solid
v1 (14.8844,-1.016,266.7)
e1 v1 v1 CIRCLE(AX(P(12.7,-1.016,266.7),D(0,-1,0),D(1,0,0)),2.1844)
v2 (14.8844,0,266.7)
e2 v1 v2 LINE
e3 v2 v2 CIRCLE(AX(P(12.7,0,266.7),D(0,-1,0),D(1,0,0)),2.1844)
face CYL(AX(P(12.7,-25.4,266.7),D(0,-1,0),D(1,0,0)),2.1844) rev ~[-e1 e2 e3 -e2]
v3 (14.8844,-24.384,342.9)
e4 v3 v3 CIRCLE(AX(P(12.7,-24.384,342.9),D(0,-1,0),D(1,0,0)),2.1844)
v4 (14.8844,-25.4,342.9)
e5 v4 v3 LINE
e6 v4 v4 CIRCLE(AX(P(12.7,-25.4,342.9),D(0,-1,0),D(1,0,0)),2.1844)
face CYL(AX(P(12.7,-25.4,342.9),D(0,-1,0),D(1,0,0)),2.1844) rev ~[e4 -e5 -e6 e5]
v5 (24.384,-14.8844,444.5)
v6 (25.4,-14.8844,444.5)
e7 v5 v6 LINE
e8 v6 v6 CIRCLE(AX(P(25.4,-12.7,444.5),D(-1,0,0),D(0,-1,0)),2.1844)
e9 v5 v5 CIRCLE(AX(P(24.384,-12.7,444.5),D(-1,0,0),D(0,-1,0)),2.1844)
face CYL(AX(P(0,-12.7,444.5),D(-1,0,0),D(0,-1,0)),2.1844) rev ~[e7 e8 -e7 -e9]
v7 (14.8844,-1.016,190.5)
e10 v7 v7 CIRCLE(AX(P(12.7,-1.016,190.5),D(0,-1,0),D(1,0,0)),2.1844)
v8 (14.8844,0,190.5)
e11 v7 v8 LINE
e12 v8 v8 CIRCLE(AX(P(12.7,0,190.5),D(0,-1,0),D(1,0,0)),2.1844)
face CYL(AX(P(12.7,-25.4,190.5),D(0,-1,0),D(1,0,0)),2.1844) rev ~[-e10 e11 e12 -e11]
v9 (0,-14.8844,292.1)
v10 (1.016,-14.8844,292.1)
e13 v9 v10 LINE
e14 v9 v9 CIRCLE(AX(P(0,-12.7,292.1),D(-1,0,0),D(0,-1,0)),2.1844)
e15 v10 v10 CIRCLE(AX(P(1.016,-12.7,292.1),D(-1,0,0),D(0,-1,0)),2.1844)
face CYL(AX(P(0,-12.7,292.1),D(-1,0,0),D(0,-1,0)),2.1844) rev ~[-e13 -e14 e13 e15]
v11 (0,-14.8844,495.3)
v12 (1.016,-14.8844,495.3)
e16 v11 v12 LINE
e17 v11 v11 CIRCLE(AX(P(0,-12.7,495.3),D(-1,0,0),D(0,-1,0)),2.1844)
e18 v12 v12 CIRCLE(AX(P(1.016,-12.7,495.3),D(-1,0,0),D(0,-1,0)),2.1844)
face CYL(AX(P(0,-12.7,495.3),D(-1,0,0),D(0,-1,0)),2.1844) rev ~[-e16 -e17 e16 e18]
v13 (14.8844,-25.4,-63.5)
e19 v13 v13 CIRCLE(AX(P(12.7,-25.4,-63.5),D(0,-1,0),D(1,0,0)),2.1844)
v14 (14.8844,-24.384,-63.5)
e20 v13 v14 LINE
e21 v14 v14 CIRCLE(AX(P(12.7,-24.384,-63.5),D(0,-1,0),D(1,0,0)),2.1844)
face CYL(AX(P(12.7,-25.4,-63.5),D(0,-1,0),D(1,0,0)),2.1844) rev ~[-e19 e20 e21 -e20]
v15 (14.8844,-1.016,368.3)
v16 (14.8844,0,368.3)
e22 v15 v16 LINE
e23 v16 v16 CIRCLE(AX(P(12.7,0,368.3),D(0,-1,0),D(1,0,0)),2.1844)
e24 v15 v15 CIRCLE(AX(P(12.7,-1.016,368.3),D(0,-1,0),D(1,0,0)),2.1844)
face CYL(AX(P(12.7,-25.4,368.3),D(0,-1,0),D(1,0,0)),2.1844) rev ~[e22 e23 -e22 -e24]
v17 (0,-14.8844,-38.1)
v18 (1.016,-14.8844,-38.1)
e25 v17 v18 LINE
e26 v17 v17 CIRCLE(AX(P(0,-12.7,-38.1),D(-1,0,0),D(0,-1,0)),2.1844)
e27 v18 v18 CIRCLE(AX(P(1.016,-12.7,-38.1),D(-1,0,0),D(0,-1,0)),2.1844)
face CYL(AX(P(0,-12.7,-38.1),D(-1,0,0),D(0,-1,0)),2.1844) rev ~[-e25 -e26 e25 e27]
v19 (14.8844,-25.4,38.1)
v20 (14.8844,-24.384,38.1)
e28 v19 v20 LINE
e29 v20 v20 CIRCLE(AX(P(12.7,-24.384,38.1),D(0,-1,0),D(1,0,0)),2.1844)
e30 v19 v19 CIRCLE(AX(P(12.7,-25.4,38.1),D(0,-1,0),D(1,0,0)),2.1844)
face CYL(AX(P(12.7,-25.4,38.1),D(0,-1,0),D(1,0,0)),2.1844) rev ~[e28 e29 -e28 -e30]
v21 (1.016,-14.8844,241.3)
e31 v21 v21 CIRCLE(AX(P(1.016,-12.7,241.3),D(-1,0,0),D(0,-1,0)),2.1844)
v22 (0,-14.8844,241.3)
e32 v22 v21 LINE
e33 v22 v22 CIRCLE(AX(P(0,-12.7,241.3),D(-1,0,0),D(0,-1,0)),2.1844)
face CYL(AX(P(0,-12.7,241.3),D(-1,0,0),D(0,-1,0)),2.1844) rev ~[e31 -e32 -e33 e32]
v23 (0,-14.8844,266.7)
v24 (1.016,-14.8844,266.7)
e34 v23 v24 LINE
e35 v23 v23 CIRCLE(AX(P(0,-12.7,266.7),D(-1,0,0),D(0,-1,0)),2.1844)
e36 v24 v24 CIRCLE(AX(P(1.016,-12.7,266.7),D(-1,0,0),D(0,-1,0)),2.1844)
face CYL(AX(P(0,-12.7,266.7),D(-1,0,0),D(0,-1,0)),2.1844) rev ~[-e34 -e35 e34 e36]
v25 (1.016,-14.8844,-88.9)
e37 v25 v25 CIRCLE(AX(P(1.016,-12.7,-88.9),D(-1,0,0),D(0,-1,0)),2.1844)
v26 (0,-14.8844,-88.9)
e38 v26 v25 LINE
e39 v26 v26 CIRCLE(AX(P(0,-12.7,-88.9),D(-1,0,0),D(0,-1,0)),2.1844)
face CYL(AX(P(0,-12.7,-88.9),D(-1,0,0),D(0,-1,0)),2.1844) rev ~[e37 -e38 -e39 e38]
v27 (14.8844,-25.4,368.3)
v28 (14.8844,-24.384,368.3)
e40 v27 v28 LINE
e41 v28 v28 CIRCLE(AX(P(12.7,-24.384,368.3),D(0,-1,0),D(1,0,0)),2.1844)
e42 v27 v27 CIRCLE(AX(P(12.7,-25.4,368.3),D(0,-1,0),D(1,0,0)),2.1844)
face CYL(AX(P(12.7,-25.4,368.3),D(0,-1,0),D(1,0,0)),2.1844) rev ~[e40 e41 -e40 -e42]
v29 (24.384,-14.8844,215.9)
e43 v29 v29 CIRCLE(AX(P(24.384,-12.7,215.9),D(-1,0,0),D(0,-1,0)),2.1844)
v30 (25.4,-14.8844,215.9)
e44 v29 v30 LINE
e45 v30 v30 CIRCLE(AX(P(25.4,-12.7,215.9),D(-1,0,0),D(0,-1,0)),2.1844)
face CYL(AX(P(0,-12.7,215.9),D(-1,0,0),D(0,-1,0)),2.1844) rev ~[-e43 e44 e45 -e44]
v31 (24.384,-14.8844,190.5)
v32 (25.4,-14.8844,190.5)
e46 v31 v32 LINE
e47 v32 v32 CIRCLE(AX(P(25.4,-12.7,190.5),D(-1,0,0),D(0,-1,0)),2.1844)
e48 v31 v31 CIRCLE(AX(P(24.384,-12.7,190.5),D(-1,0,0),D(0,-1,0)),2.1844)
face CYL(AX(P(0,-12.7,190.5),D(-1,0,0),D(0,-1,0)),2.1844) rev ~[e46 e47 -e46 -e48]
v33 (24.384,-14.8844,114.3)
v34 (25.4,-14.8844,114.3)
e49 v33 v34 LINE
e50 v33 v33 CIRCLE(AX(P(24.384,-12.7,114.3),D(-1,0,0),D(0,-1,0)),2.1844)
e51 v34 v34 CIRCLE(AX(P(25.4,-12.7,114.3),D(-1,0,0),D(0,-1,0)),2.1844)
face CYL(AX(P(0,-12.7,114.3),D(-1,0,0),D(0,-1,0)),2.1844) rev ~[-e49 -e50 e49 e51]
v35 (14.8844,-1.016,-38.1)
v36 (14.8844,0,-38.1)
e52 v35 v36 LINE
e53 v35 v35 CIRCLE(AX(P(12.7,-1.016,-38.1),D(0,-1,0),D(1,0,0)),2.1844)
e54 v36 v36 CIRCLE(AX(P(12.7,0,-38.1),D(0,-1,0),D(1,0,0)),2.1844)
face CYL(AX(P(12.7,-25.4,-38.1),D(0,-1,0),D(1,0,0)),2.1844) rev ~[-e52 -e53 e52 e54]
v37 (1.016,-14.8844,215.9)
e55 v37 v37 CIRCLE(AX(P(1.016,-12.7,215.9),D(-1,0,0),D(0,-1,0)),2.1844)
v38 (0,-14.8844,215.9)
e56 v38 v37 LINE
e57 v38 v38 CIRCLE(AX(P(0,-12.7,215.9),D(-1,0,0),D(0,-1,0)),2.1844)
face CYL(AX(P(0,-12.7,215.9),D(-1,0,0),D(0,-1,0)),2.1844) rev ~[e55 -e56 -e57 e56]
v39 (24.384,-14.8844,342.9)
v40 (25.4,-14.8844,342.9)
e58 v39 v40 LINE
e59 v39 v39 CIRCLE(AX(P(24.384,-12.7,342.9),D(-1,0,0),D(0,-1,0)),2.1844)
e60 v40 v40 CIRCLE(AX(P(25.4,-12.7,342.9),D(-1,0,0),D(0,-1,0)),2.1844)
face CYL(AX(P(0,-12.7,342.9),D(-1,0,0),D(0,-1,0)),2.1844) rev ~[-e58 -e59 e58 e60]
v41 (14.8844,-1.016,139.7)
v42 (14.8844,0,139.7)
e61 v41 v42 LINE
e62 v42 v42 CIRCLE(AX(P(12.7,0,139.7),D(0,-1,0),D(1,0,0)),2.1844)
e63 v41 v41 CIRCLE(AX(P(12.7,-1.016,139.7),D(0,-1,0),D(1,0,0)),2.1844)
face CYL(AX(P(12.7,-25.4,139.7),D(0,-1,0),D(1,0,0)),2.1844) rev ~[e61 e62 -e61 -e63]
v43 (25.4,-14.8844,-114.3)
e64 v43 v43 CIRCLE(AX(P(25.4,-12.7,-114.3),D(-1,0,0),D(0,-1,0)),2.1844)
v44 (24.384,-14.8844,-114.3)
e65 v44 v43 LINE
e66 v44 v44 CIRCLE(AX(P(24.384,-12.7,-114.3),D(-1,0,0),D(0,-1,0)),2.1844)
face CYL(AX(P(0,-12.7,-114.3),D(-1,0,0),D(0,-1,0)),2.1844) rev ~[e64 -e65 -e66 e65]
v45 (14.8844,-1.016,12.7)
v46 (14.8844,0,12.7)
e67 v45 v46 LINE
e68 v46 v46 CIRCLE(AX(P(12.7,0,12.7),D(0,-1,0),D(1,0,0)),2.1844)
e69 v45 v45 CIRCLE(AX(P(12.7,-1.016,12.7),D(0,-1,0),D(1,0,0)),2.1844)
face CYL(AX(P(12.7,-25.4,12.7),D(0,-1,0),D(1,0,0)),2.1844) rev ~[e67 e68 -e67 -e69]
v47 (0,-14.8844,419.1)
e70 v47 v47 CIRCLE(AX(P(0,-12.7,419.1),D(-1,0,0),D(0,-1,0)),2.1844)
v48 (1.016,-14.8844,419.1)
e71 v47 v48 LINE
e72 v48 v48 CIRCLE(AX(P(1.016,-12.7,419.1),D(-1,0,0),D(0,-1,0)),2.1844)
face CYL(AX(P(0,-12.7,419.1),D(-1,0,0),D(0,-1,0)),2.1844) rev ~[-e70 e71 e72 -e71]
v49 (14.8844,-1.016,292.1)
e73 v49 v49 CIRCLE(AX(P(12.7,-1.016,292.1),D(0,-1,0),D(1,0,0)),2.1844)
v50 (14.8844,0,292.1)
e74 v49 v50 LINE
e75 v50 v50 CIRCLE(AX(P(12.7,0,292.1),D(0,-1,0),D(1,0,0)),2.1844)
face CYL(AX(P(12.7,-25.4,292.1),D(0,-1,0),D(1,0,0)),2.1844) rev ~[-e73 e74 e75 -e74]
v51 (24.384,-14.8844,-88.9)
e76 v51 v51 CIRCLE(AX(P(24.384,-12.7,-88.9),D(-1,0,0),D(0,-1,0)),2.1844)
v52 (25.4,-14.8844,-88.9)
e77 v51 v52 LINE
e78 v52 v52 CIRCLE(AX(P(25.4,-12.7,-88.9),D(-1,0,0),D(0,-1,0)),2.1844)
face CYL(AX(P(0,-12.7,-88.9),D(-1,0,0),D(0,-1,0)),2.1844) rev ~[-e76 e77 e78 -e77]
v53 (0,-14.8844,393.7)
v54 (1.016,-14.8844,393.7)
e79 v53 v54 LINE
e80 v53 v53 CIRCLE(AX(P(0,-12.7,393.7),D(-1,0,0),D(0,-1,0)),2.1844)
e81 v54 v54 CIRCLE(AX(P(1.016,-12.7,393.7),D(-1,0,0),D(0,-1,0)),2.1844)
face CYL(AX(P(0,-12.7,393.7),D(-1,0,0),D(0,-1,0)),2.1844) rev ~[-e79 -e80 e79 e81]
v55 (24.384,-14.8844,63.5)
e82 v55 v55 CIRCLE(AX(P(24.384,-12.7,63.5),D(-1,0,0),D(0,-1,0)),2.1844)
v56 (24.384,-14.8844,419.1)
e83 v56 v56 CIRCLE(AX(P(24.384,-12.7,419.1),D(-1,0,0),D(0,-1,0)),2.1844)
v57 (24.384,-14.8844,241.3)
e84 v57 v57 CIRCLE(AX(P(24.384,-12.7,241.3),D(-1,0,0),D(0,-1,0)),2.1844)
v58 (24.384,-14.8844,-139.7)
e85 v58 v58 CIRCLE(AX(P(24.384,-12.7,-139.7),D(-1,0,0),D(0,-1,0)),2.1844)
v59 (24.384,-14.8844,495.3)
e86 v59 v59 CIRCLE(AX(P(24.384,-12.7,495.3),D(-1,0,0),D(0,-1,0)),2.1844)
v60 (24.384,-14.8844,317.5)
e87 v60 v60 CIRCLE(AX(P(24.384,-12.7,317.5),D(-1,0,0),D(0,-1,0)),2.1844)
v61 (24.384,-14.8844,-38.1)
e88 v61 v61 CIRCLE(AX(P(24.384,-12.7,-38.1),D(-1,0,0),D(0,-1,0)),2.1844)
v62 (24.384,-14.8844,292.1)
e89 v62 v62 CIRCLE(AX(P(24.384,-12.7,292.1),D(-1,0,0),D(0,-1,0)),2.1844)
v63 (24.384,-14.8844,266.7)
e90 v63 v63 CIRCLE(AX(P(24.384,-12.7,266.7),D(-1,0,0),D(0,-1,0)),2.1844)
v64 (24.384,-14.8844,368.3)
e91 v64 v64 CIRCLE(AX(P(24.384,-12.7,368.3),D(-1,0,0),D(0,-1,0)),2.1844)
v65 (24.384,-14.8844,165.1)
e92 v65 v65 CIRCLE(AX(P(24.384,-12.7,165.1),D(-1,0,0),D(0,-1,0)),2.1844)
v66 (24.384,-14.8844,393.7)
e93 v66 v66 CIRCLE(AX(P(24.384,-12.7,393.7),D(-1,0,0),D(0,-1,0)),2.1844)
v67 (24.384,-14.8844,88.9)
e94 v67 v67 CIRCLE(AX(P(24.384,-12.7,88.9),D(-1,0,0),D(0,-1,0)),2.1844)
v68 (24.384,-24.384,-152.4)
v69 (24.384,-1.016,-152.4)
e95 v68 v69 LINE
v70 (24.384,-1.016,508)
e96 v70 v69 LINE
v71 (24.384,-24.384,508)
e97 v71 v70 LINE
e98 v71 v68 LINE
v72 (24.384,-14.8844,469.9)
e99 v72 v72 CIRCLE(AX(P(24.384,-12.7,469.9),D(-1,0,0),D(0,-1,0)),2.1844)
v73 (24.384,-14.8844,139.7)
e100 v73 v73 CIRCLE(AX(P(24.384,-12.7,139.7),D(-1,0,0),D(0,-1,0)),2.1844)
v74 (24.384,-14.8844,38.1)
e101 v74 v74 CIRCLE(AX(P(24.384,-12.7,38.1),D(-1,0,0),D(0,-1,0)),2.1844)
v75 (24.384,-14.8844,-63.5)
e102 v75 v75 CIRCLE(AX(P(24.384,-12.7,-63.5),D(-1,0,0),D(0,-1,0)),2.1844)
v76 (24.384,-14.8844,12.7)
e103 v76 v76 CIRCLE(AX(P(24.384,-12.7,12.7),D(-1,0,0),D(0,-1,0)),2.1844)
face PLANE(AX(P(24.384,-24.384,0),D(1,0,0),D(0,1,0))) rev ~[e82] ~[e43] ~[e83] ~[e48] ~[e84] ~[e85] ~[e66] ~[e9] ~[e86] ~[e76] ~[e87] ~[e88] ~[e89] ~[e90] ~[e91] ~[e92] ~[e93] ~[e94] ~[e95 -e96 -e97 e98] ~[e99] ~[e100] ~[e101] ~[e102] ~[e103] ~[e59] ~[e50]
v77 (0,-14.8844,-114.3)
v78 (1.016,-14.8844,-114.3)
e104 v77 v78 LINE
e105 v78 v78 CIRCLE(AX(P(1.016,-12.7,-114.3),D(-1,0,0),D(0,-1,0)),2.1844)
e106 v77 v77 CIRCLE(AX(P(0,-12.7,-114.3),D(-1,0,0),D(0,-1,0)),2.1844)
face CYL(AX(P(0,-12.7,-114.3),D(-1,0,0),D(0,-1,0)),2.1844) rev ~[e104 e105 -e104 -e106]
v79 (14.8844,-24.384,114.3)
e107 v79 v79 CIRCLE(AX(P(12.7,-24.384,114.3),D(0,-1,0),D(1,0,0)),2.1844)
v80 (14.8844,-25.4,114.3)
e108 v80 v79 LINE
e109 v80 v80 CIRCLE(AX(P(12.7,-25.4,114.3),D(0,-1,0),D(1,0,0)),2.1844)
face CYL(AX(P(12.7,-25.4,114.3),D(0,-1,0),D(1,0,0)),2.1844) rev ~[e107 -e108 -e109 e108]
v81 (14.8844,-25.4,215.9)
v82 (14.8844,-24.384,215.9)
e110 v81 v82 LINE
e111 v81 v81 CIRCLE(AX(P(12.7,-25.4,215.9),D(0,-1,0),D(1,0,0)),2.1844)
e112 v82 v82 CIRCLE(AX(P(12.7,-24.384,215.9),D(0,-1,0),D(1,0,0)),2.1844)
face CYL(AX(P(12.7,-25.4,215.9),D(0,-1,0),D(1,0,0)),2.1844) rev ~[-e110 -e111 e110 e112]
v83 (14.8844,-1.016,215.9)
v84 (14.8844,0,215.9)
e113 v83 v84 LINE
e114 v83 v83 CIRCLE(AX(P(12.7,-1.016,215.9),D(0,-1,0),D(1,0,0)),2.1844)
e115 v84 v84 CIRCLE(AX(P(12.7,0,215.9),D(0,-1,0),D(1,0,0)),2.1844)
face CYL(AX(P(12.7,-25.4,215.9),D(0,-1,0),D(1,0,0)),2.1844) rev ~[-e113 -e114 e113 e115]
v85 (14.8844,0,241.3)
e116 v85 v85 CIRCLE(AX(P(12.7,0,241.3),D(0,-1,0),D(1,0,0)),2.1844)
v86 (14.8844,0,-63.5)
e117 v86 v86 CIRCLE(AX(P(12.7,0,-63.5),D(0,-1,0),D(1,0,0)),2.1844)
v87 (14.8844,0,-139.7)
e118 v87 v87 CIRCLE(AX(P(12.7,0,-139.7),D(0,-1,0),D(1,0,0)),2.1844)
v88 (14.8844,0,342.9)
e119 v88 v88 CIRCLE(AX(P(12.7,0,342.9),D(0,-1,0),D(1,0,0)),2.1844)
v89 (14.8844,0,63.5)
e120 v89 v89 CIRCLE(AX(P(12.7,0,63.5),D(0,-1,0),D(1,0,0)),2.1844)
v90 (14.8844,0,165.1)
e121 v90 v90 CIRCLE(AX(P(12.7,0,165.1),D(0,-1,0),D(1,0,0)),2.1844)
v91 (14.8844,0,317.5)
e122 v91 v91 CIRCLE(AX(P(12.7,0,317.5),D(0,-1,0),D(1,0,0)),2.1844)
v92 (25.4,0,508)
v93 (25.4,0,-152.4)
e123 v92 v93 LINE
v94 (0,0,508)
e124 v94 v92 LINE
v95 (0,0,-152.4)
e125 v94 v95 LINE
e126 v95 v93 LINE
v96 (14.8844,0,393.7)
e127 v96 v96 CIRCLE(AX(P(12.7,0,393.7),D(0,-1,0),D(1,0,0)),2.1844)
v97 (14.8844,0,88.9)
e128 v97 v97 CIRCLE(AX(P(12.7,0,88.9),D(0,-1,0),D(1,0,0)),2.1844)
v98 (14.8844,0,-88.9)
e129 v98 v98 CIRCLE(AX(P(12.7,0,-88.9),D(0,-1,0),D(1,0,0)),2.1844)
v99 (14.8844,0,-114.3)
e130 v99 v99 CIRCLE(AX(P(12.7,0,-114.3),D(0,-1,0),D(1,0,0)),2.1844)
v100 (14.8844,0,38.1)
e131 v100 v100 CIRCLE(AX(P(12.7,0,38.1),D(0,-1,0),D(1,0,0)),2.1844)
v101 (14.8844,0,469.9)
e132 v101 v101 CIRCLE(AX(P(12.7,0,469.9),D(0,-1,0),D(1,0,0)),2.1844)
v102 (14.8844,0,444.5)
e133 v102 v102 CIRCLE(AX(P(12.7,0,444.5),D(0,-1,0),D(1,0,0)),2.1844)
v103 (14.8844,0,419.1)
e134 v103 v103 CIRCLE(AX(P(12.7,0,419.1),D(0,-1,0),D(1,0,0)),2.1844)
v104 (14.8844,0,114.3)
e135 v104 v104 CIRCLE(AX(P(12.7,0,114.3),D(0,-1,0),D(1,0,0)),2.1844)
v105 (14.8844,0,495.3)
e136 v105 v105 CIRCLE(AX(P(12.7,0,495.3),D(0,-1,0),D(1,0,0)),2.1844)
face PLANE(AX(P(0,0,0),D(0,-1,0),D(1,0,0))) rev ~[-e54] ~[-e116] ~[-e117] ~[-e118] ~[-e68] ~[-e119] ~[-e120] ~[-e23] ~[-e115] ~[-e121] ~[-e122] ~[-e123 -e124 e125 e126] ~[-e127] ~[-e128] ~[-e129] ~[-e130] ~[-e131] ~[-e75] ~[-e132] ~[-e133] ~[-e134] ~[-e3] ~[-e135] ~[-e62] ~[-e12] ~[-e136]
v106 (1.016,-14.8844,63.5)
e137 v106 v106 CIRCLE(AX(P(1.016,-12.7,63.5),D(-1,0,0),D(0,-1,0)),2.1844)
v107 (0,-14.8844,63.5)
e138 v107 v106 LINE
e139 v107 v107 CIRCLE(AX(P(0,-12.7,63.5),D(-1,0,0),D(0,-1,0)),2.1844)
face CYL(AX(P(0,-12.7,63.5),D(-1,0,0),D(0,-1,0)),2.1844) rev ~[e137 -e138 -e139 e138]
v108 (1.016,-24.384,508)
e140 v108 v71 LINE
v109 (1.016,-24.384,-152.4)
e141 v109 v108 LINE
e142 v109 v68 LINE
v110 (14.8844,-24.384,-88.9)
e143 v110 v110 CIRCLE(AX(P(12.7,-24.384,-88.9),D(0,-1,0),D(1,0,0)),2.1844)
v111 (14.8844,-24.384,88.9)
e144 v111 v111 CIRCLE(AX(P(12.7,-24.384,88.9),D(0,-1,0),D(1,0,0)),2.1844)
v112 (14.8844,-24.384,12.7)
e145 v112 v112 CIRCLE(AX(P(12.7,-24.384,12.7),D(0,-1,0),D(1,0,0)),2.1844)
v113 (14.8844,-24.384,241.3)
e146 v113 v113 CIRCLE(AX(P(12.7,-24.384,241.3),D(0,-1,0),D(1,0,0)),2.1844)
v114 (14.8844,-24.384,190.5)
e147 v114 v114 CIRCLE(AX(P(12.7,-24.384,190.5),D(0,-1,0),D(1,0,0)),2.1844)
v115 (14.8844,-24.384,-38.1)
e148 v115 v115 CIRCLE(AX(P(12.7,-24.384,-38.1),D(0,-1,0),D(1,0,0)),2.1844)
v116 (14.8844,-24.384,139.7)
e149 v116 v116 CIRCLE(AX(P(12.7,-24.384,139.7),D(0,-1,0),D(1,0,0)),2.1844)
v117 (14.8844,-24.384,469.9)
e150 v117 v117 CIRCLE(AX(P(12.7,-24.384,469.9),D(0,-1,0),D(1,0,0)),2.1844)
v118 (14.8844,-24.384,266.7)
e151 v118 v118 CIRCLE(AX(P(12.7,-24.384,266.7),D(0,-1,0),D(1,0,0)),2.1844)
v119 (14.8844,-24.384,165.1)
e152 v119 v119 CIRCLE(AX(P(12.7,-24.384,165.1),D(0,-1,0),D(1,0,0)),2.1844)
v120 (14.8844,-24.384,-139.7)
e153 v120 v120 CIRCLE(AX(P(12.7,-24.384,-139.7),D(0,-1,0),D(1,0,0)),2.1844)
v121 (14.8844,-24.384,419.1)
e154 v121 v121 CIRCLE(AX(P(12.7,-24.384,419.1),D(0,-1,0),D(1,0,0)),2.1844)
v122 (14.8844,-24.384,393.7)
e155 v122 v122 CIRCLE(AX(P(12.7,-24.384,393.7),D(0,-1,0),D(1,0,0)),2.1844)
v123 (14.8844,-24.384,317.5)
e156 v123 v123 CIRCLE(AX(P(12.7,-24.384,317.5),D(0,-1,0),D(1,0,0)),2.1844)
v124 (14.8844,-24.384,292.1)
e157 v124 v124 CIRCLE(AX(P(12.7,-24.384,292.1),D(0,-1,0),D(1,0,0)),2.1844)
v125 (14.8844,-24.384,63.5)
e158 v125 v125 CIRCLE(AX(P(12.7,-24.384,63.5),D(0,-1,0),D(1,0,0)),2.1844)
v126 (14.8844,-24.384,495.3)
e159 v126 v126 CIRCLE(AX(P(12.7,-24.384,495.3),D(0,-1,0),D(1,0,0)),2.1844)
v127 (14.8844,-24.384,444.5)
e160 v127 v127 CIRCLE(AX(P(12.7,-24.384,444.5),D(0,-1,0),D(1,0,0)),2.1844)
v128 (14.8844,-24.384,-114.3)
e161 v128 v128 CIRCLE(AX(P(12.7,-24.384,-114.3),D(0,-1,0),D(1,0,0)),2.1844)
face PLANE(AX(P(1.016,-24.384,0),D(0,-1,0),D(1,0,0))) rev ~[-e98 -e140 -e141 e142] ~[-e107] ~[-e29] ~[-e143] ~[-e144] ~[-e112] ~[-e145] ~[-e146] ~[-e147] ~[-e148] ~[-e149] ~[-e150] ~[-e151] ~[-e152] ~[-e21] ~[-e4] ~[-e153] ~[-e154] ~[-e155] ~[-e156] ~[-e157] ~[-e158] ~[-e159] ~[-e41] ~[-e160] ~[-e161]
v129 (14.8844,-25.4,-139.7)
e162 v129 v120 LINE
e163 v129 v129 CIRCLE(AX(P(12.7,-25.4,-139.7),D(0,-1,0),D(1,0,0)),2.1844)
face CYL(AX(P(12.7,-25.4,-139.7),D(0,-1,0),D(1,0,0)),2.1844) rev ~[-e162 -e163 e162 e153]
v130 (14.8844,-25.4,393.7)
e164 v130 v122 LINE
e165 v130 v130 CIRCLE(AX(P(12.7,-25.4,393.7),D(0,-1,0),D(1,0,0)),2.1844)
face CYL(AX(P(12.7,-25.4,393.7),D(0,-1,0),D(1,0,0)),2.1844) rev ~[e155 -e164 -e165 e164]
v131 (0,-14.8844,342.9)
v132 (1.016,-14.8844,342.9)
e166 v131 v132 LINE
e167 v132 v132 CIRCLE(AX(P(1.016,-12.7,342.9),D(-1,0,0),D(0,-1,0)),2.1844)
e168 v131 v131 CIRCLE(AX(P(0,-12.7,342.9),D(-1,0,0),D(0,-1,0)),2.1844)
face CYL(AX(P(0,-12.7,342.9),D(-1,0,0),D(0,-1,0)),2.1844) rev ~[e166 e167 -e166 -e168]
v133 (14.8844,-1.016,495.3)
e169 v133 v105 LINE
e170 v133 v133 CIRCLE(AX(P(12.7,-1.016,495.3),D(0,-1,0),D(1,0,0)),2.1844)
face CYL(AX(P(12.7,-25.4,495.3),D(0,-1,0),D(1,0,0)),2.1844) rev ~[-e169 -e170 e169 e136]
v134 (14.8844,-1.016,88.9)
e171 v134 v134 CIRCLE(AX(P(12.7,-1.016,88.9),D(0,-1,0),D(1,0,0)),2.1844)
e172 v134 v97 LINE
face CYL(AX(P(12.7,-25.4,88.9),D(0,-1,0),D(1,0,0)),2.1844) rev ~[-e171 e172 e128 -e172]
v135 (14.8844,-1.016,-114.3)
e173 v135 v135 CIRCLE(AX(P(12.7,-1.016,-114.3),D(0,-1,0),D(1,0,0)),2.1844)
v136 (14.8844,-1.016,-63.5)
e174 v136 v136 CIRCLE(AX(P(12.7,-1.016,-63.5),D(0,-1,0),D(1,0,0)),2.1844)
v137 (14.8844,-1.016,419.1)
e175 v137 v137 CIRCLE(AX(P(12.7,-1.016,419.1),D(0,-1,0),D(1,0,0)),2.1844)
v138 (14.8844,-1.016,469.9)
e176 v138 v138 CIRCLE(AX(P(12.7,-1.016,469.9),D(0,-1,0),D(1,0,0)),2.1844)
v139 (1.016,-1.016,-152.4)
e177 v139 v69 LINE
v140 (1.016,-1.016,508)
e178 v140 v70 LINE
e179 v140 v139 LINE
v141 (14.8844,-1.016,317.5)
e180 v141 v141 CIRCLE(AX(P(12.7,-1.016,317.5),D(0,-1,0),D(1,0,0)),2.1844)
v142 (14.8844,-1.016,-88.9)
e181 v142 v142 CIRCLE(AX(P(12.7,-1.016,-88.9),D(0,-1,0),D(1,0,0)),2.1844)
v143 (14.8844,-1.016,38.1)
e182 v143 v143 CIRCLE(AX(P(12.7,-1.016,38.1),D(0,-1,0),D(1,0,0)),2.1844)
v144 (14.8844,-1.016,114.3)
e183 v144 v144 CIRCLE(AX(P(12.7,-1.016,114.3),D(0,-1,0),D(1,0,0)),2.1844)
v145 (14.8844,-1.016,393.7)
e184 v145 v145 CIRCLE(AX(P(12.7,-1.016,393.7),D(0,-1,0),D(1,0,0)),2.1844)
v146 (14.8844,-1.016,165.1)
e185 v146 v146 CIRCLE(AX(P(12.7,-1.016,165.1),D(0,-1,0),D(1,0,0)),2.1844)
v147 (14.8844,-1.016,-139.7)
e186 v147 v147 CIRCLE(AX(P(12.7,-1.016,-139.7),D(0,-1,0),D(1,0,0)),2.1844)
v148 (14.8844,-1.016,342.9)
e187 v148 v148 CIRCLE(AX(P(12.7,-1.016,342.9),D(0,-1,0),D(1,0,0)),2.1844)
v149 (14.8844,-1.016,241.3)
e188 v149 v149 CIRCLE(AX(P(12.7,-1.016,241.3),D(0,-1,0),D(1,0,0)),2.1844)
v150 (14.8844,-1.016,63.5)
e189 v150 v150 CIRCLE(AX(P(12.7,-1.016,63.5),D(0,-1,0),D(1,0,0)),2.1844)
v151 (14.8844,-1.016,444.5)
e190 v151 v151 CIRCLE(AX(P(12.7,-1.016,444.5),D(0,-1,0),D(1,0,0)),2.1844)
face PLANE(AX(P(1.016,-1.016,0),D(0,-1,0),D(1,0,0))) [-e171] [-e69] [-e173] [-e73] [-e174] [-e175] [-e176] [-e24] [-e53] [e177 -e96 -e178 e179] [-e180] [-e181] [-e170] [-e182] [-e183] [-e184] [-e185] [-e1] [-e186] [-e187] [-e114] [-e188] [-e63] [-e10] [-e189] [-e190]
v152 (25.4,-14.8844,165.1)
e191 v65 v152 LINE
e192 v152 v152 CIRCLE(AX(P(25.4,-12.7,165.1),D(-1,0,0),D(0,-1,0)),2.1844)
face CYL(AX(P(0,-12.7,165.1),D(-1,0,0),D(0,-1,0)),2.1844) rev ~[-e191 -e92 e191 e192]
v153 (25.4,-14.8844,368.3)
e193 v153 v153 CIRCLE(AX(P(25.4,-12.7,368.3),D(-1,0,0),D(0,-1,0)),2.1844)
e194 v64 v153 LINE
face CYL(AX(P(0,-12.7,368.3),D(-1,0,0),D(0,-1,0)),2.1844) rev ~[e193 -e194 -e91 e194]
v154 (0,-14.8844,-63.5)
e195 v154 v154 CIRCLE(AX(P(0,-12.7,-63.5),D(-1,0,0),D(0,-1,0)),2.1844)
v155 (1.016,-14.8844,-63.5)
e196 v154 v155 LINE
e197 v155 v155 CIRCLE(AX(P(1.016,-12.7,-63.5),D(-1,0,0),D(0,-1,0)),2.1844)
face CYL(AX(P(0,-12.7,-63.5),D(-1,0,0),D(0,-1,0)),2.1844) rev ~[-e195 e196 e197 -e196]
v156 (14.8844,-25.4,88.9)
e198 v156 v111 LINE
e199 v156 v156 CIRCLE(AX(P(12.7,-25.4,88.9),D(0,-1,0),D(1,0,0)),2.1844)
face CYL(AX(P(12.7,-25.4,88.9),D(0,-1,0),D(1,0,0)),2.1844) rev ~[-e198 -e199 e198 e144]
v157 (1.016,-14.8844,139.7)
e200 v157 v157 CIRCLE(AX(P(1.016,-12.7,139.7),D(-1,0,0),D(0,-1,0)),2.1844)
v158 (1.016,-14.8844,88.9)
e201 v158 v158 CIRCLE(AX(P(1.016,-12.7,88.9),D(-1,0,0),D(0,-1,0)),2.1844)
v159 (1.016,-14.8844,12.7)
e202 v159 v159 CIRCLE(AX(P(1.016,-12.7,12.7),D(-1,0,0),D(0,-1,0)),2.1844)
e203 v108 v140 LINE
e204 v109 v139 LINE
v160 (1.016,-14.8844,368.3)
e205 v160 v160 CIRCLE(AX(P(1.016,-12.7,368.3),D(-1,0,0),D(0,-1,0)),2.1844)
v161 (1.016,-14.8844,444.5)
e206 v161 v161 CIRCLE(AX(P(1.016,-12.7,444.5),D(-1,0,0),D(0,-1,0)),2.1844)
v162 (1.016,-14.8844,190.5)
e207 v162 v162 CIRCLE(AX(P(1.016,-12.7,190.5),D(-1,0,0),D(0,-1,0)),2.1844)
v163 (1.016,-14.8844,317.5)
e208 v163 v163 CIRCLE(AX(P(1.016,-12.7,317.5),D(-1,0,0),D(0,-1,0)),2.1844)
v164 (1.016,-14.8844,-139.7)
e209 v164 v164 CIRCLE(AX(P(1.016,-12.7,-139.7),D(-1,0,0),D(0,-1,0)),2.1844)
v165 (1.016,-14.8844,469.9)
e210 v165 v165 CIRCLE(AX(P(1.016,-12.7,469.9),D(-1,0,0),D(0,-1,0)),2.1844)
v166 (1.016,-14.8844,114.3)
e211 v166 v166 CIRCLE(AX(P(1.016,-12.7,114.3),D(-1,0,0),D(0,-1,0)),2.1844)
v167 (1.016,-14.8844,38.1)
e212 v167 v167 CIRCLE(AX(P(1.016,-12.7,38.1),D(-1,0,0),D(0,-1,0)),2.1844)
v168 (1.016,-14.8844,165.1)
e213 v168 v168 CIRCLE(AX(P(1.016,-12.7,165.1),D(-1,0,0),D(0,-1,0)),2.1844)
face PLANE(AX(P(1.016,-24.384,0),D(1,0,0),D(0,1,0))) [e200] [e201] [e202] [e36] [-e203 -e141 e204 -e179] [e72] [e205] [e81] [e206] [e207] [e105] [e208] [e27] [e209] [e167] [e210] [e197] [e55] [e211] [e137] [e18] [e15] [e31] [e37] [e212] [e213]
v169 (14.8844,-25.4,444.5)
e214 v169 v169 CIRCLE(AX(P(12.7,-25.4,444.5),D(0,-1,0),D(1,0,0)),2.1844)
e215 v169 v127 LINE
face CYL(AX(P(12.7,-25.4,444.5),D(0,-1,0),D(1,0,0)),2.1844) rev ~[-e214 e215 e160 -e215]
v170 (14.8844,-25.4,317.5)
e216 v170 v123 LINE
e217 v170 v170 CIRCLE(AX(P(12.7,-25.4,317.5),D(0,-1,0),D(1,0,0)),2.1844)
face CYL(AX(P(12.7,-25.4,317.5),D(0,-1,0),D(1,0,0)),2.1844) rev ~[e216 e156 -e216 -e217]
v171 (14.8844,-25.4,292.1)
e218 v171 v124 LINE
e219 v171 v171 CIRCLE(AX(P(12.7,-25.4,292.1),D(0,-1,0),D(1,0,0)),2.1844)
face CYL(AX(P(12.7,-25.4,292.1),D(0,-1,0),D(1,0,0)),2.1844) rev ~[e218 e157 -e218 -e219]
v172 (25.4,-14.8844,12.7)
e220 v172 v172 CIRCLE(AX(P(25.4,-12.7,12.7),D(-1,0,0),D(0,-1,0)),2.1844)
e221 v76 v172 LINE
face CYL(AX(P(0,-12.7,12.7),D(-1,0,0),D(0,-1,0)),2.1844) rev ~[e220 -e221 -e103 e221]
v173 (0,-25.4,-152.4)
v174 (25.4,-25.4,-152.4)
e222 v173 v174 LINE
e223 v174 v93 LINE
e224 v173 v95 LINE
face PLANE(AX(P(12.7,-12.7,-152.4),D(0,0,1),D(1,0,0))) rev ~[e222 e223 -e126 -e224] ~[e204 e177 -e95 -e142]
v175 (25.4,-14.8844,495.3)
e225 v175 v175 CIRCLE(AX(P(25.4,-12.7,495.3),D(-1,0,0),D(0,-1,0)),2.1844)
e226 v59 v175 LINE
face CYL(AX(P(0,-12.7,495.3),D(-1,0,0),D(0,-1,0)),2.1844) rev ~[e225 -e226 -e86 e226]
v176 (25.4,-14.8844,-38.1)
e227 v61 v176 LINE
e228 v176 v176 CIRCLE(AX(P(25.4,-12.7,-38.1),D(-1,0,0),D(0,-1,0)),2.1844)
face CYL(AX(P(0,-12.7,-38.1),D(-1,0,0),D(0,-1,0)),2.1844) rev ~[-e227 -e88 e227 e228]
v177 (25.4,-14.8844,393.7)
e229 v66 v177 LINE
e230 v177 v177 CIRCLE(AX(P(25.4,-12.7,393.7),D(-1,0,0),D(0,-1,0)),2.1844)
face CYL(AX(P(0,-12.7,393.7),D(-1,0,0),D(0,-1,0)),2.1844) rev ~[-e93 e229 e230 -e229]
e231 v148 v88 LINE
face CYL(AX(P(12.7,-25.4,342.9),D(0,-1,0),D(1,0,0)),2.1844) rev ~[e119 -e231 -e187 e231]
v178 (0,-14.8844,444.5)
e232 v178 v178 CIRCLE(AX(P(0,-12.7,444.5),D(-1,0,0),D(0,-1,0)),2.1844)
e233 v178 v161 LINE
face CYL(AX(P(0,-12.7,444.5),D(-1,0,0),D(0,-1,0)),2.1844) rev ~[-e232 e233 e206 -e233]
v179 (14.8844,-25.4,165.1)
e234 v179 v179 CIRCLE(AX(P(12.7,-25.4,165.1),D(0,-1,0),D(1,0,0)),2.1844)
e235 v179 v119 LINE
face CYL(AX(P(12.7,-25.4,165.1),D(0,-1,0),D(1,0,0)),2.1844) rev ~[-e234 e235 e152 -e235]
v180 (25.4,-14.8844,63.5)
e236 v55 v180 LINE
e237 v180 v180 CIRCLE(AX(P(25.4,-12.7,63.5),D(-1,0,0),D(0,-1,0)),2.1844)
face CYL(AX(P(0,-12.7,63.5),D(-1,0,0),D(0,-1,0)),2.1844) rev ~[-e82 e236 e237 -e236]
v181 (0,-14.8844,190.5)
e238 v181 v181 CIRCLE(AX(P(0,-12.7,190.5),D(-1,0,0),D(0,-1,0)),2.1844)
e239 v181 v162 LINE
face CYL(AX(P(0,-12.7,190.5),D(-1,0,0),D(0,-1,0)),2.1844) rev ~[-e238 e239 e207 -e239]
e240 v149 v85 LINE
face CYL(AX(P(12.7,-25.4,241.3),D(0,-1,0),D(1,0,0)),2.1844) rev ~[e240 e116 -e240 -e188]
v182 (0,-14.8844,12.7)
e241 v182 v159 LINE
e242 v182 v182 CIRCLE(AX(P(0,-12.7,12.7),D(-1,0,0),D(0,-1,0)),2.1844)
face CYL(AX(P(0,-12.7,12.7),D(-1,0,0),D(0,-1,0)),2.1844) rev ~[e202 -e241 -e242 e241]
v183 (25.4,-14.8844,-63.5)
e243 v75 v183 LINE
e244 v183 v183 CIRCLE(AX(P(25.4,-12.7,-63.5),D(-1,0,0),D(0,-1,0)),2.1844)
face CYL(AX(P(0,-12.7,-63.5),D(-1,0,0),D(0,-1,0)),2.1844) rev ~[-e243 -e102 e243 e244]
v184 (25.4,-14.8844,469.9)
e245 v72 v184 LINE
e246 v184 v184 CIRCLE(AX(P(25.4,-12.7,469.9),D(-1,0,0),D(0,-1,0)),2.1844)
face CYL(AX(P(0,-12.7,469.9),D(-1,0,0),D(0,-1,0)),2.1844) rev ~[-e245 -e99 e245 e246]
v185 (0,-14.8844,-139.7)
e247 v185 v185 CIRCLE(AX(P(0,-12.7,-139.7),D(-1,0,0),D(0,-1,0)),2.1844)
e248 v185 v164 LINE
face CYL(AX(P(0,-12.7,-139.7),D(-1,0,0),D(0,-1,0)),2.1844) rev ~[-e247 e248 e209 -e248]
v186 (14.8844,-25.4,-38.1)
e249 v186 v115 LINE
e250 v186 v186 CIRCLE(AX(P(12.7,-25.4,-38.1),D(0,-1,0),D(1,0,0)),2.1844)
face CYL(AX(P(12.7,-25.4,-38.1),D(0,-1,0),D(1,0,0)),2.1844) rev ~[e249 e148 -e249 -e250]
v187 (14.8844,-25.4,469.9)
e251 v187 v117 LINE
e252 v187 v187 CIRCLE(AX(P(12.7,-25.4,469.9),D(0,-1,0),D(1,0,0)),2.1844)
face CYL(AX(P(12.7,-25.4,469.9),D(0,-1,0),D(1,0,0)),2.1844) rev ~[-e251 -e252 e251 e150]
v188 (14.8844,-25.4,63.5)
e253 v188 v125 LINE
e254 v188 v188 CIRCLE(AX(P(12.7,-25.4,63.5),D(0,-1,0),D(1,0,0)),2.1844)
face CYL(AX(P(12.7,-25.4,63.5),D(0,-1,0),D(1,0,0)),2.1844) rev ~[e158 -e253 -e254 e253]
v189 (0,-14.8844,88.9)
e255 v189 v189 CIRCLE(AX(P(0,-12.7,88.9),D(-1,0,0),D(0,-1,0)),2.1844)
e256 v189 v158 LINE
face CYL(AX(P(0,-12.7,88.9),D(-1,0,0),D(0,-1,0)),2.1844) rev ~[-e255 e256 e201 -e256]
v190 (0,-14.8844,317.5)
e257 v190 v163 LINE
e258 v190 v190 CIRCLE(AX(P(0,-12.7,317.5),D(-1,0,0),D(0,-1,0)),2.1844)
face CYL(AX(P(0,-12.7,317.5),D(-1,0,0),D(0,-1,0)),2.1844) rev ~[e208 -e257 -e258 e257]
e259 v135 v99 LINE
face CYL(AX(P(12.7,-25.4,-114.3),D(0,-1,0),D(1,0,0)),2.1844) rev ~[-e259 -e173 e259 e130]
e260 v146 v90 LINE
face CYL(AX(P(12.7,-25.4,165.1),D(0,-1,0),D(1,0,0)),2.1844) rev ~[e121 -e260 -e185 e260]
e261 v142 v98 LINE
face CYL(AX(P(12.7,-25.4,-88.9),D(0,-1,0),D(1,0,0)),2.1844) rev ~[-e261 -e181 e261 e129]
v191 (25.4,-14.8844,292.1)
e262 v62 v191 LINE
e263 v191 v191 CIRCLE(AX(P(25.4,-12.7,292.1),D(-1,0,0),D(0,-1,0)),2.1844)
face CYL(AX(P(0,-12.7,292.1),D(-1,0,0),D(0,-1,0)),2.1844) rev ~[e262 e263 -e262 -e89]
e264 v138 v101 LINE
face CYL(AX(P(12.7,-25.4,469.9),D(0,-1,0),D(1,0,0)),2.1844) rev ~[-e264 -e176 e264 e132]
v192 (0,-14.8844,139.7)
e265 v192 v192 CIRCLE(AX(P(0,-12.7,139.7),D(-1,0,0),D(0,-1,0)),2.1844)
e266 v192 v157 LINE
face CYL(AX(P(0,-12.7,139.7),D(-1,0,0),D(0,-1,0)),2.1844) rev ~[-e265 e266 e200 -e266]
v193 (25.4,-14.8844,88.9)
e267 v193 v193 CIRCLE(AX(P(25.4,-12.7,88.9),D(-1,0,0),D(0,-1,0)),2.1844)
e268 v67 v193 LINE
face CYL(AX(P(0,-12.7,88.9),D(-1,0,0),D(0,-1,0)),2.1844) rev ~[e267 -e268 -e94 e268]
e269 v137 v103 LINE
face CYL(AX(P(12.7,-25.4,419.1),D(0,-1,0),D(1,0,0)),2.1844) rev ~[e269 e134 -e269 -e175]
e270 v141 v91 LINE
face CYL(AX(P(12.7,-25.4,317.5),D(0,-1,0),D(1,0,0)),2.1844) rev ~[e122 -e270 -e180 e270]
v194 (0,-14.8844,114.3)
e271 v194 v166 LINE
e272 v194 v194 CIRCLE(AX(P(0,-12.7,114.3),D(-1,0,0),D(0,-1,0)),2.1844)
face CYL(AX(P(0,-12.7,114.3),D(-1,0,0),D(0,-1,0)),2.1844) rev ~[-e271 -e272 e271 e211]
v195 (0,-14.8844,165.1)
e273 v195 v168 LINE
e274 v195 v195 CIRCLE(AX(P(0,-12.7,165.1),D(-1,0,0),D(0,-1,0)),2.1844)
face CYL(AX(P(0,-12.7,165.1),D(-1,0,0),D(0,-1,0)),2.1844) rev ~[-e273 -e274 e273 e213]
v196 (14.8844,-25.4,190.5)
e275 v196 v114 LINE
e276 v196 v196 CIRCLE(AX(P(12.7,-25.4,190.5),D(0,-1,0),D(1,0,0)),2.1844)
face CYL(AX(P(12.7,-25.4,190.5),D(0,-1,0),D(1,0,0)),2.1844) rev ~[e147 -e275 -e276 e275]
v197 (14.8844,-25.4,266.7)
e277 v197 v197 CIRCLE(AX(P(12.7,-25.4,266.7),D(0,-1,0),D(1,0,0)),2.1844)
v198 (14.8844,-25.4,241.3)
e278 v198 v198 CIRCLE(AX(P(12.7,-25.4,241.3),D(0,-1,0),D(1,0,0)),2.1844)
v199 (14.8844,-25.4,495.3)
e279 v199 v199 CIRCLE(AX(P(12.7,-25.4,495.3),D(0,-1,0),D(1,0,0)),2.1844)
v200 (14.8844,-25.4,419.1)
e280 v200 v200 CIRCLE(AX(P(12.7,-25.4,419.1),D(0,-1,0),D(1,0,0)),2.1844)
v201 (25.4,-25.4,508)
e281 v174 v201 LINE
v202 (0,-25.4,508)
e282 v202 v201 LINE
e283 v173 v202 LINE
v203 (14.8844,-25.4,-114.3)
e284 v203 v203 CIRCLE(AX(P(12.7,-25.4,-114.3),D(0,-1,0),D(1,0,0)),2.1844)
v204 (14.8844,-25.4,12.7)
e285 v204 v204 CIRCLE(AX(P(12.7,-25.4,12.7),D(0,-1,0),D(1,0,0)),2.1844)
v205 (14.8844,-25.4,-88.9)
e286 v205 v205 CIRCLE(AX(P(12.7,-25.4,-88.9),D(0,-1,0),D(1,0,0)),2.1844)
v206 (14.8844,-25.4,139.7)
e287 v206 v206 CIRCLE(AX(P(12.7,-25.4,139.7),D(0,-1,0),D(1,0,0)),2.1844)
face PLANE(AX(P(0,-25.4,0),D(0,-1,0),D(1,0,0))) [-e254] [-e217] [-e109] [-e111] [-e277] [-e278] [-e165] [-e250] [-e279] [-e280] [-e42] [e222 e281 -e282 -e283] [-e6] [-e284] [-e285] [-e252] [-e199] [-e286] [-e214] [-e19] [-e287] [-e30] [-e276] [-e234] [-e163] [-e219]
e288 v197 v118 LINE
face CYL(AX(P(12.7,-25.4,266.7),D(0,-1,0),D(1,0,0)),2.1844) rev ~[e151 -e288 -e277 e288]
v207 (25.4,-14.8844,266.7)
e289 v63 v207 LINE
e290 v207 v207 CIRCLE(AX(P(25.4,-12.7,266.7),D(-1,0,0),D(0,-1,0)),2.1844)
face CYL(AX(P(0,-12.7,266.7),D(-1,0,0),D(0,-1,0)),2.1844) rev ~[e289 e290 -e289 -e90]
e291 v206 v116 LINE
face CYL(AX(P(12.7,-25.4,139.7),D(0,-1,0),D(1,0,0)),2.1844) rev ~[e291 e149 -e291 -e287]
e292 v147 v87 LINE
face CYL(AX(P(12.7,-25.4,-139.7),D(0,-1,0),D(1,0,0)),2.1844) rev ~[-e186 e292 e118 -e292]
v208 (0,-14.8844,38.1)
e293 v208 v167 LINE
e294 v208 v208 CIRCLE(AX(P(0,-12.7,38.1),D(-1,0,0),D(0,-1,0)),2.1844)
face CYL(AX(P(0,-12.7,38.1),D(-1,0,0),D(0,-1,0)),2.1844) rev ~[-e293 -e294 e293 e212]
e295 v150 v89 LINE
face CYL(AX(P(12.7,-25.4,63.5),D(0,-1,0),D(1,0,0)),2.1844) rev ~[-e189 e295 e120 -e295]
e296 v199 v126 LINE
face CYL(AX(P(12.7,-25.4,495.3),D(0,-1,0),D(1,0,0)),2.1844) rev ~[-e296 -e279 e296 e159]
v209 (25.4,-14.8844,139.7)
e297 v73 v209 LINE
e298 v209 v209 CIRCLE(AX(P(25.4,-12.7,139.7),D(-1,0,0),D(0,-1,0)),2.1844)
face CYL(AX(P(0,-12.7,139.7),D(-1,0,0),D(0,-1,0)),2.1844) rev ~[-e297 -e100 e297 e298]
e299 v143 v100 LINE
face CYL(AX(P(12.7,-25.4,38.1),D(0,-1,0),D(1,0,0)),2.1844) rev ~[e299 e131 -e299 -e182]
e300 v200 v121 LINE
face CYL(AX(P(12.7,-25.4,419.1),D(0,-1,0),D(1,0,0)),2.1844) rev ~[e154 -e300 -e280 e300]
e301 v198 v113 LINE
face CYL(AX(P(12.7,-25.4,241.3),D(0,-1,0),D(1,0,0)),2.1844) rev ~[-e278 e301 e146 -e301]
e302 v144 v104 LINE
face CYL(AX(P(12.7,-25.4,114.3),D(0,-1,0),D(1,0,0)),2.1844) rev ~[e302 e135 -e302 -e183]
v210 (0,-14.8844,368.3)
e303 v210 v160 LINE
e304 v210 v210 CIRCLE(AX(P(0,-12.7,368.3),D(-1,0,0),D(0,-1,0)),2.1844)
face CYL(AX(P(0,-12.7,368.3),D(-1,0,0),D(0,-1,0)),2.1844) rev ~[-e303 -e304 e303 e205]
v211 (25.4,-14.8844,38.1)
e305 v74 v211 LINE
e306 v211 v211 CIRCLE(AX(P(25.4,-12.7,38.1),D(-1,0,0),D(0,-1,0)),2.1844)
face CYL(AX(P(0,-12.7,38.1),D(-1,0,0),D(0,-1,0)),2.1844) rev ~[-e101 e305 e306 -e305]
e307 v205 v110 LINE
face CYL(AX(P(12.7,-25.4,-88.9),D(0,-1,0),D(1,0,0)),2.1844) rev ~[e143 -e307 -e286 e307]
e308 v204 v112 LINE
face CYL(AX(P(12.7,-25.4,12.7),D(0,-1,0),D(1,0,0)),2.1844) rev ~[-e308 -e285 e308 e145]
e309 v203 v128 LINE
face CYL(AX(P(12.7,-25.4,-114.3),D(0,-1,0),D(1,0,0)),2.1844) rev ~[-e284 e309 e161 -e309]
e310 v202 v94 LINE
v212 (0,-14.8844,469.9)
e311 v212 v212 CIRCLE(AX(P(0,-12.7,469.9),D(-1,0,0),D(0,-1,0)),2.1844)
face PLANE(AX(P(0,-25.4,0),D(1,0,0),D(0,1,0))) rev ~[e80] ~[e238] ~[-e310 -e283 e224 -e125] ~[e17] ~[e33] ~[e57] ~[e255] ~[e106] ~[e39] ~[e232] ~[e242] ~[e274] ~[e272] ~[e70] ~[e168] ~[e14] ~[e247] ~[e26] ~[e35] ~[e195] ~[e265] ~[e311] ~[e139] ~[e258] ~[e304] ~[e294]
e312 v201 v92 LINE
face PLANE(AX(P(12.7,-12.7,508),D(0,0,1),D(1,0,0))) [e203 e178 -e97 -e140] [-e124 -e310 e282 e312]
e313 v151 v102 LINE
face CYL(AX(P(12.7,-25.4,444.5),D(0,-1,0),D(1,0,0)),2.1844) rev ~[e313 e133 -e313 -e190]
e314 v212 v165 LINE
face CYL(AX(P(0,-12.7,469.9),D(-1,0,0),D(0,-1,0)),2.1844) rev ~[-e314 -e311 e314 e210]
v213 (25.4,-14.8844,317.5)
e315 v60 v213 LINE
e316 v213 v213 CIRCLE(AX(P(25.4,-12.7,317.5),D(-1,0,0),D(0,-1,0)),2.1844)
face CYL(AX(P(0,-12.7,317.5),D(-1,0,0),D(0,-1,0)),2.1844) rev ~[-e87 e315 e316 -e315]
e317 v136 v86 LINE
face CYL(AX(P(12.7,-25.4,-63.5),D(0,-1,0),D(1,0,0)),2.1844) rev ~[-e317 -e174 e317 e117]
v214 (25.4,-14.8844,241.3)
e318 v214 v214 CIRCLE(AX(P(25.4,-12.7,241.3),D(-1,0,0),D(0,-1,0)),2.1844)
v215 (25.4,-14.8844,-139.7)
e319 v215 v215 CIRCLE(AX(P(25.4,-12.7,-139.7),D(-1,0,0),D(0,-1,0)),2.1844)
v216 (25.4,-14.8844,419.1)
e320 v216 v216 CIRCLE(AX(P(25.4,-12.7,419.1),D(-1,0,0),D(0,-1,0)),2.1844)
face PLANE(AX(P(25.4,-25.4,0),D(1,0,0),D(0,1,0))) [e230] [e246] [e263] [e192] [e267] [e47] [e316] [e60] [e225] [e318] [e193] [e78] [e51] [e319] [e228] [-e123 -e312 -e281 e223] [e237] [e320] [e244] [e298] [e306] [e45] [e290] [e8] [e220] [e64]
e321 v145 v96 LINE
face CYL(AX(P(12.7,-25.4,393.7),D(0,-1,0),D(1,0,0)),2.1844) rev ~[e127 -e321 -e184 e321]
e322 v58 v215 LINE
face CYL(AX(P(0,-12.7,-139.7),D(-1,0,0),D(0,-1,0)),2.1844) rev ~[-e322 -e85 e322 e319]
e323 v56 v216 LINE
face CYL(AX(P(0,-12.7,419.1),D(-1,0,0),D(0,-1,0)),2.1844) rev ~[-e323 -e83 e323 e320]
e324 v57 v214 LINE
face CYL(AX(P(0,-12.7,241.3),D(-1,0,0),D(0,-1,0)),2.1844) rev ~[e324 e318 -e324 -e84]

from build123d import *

# Parameters (mm, degrees)
F0_W      = 25.4
F0_H      = 25.4
F0_W_2    = 23.368
F0_H_2    = 23.368
F1_DEPTH  = 508
F2_R      = 2.1844
F3_DEPTH  = 25.4
F4_R      = 2.1844
F5_DEPTH  = 25.4
F6_DEPTH  = 152.4
F7_R      = 2.1844
F8_DEPTH  = 25.4
F9_R      = 2.1844
F10_DEPTH = 25.4


with BuildPart() as f1:
    # F0 (on Top) → F1 (new body)
    with BuildSketch(Plane.XY):
        with Locations((12.7, -12.7)):
            Rectangle(F0_W, F0_H)
        with Locations((12.7, -12.7)):
            Rectangle(F0_W_2, F0_H_2, mode=Mode.SUBTRACT)
    extrude(amount=F1_DEPTH)

    # F2 (on face) → F3 (cut)
    with BuildSketch(Plane.XZ.offset(25.4)):
        with Locations((12.7, 12.7)):
            Circle(F2_R)
        with Locations((12.7, 38.1)):
            Circle(F2_R)
        with Locations((12.7, 241.3)):
            Circle(F2_R)
        with Locations((12.7, 215.9)):
            Circle(F2_R)
        with Locations((12.7, 190.5)):
            Circle(F2_R)
        with Locations((12.7, 165.1)):
            Circle(F2_R)
        with Locations((12.7, 139.7)):
            Circle(F2_R)
        with Locations((12.7, 114.3)):
            Circle(F2_R)
        with Locations((12.7, 88.9)):
            Circle(F2_R)
        with Locations((12.7, 63.5)):
            Circle(F2_R)
        with Locations((12.7, 266.7)):
            Circle(F2_R)
        with Locations((12.7, 292.1)):
            Circle(F2_R)
        with Locations((12.7, 317.5)):
            Circle(F2_R)
        with Locations((12.7, 342.9)):
            Circle(F2_R)
        with Locations((12.7, 368.3)):
            Circle(F2_R)
        with Locations((12.7, 393.7)):
            Circle(F2_R)
        with Locations((12.7, 419.1)):
            Circle(F2_R)
        with Locations((12.7, 444.5)):
            Circle(F2_R)
        with Locations((12.7, 469.9)):
            Circle(F2_R)
        with Locations((12.7, 495.3)):
            Circle(F2_R)
        with Locations((12.7, 520.7)):
            Circle(F2_R)
        with Locations((12.7, 546.1)):
            Circle(F2_R)
        with Locations((12.7, 571.5)):
            Circle(F2_R)
        with Locations((12.7, 596.9)):
            Circle(F2_R)
        with Locations((12.7, 622.3)):
            Circle(F2_R)
    extrude(amount=-F3_DEPTH, mode=Mode.SUBTRACT)

    # F4 (on face) → F5 (cut)
    with BuildSketch(Plane(origin=(0, 0, 0), x_dir=(0, -1, 0), z_dir=(-1, 0, 0))):
        with Locations((12.7, 12.7)):
            Circle(F4_R)
        with Locations((12.7, 38.1)):
            Circle(F4_R)
        with Locations((12.7, 63.5)):
            Circle(F4_R)
        with Locations((12.7, 88.9)):
            Circle(F4_R)
        with Locations((12.7, 114.3)):
            Circle(F4_R)
        with Locations((12.7, 139.7)):
            Circle(F4_R)
        with Locations((12.7, 165.1)):
            Circle(F4_R)
        with Locations((12.7, 190.5)):
            Circle(F4_R)
        with Locations((12.7, 215.9)):
            Circle(F4_R)
        with Locations((12.7, 241.3)):
            Circle(F4_R)
        with Locations((12.7, 266.7)):
            Circle(F4_R)
        with Locations((12.7, 292.1)):
            Circle(F4_R)
        with Locations((12.7, 317.5)):
            Circle(F4_R)
        with Locations((12.7, 342.9)):
            Circle(F4_R)
        with Locations((12.7, 368.3)):
            Circle(F4_R)
        with Locations((12.7, 393.7)):
            Circle(F4_R)
        with Locations((12.7, 419.1)):
            Circle(F4_R)
        with Locations((12.7, 444.5)):
            Circle(F4_R)
        with Locations((12.7, 546.1)):
            Circle(F4_R)
        with Locations((12.7, 520.7)):
            Circle(F4_R)
        with Locations((12.7, 495.3)):
            Circle(F4_R)
        with Locations((12.7, 469.9)):
            Circle(F4_R)
        with Locations((12.7, 571.5)):
            Circle(F4_R)
        with Locations((12.7, 596.9)):
            Circle(F4_R)
        with Locations((12.7, 622.3)):
            Circle(F4_R)
    extrude(amount=-F5_DEPTH, mode=Mode.SUBTRACT)

    # F6 (add): a face of the model
    f6_faces = [f1.faces().sort_by_distance(p)[0] for p in [
        (12.7, -0.3592102448, 0),
    ]]
    extrude(f6_faces, amount=F6_DEPTH)

    # F7 (on face) → F8 (cut)
    with BuildSketch(Plane.XZ.offset(25.4)):
        with Locations((12.7, -38.1)):
            Circle(F7_R)
        with Locations((12.7, -63.5)):
            Circle(F7_R)
        with Locations((12.7, -88.9)):
            Circle(F7_R)
        with Locations((12.7, -114.3)):
            Circle(F7_R)
        with Locations((12.7, -139.7)):
            Circle(F7_R)
    extrude(amount=-F8_DEPTH, mode=Mode.SUBTRACT)

    # F9 (on face) → F10 (cut)
    with BuildSketch(Plane(origin=(0, 0, 0), x_dir=(0, -1, 0), z_dir=(-1, 0, 0))):
        with Locations((12.7, -38.1)):
            Circle(F9_R)
        with Locations((12.7, -63.5)):
            Circle(F9_R)
        with Locations((12.7, -88.9)):
            Circle(F9_R)
        with Locations((12.7, -114.3)):
            Circle(F9_R)
        with Locations((12.7, -139.7)):
            Circle(F9_R)
    extrude(amount=-F10_DEPTH, mode=Mode.SUBTRACT)


solid = f1.part
